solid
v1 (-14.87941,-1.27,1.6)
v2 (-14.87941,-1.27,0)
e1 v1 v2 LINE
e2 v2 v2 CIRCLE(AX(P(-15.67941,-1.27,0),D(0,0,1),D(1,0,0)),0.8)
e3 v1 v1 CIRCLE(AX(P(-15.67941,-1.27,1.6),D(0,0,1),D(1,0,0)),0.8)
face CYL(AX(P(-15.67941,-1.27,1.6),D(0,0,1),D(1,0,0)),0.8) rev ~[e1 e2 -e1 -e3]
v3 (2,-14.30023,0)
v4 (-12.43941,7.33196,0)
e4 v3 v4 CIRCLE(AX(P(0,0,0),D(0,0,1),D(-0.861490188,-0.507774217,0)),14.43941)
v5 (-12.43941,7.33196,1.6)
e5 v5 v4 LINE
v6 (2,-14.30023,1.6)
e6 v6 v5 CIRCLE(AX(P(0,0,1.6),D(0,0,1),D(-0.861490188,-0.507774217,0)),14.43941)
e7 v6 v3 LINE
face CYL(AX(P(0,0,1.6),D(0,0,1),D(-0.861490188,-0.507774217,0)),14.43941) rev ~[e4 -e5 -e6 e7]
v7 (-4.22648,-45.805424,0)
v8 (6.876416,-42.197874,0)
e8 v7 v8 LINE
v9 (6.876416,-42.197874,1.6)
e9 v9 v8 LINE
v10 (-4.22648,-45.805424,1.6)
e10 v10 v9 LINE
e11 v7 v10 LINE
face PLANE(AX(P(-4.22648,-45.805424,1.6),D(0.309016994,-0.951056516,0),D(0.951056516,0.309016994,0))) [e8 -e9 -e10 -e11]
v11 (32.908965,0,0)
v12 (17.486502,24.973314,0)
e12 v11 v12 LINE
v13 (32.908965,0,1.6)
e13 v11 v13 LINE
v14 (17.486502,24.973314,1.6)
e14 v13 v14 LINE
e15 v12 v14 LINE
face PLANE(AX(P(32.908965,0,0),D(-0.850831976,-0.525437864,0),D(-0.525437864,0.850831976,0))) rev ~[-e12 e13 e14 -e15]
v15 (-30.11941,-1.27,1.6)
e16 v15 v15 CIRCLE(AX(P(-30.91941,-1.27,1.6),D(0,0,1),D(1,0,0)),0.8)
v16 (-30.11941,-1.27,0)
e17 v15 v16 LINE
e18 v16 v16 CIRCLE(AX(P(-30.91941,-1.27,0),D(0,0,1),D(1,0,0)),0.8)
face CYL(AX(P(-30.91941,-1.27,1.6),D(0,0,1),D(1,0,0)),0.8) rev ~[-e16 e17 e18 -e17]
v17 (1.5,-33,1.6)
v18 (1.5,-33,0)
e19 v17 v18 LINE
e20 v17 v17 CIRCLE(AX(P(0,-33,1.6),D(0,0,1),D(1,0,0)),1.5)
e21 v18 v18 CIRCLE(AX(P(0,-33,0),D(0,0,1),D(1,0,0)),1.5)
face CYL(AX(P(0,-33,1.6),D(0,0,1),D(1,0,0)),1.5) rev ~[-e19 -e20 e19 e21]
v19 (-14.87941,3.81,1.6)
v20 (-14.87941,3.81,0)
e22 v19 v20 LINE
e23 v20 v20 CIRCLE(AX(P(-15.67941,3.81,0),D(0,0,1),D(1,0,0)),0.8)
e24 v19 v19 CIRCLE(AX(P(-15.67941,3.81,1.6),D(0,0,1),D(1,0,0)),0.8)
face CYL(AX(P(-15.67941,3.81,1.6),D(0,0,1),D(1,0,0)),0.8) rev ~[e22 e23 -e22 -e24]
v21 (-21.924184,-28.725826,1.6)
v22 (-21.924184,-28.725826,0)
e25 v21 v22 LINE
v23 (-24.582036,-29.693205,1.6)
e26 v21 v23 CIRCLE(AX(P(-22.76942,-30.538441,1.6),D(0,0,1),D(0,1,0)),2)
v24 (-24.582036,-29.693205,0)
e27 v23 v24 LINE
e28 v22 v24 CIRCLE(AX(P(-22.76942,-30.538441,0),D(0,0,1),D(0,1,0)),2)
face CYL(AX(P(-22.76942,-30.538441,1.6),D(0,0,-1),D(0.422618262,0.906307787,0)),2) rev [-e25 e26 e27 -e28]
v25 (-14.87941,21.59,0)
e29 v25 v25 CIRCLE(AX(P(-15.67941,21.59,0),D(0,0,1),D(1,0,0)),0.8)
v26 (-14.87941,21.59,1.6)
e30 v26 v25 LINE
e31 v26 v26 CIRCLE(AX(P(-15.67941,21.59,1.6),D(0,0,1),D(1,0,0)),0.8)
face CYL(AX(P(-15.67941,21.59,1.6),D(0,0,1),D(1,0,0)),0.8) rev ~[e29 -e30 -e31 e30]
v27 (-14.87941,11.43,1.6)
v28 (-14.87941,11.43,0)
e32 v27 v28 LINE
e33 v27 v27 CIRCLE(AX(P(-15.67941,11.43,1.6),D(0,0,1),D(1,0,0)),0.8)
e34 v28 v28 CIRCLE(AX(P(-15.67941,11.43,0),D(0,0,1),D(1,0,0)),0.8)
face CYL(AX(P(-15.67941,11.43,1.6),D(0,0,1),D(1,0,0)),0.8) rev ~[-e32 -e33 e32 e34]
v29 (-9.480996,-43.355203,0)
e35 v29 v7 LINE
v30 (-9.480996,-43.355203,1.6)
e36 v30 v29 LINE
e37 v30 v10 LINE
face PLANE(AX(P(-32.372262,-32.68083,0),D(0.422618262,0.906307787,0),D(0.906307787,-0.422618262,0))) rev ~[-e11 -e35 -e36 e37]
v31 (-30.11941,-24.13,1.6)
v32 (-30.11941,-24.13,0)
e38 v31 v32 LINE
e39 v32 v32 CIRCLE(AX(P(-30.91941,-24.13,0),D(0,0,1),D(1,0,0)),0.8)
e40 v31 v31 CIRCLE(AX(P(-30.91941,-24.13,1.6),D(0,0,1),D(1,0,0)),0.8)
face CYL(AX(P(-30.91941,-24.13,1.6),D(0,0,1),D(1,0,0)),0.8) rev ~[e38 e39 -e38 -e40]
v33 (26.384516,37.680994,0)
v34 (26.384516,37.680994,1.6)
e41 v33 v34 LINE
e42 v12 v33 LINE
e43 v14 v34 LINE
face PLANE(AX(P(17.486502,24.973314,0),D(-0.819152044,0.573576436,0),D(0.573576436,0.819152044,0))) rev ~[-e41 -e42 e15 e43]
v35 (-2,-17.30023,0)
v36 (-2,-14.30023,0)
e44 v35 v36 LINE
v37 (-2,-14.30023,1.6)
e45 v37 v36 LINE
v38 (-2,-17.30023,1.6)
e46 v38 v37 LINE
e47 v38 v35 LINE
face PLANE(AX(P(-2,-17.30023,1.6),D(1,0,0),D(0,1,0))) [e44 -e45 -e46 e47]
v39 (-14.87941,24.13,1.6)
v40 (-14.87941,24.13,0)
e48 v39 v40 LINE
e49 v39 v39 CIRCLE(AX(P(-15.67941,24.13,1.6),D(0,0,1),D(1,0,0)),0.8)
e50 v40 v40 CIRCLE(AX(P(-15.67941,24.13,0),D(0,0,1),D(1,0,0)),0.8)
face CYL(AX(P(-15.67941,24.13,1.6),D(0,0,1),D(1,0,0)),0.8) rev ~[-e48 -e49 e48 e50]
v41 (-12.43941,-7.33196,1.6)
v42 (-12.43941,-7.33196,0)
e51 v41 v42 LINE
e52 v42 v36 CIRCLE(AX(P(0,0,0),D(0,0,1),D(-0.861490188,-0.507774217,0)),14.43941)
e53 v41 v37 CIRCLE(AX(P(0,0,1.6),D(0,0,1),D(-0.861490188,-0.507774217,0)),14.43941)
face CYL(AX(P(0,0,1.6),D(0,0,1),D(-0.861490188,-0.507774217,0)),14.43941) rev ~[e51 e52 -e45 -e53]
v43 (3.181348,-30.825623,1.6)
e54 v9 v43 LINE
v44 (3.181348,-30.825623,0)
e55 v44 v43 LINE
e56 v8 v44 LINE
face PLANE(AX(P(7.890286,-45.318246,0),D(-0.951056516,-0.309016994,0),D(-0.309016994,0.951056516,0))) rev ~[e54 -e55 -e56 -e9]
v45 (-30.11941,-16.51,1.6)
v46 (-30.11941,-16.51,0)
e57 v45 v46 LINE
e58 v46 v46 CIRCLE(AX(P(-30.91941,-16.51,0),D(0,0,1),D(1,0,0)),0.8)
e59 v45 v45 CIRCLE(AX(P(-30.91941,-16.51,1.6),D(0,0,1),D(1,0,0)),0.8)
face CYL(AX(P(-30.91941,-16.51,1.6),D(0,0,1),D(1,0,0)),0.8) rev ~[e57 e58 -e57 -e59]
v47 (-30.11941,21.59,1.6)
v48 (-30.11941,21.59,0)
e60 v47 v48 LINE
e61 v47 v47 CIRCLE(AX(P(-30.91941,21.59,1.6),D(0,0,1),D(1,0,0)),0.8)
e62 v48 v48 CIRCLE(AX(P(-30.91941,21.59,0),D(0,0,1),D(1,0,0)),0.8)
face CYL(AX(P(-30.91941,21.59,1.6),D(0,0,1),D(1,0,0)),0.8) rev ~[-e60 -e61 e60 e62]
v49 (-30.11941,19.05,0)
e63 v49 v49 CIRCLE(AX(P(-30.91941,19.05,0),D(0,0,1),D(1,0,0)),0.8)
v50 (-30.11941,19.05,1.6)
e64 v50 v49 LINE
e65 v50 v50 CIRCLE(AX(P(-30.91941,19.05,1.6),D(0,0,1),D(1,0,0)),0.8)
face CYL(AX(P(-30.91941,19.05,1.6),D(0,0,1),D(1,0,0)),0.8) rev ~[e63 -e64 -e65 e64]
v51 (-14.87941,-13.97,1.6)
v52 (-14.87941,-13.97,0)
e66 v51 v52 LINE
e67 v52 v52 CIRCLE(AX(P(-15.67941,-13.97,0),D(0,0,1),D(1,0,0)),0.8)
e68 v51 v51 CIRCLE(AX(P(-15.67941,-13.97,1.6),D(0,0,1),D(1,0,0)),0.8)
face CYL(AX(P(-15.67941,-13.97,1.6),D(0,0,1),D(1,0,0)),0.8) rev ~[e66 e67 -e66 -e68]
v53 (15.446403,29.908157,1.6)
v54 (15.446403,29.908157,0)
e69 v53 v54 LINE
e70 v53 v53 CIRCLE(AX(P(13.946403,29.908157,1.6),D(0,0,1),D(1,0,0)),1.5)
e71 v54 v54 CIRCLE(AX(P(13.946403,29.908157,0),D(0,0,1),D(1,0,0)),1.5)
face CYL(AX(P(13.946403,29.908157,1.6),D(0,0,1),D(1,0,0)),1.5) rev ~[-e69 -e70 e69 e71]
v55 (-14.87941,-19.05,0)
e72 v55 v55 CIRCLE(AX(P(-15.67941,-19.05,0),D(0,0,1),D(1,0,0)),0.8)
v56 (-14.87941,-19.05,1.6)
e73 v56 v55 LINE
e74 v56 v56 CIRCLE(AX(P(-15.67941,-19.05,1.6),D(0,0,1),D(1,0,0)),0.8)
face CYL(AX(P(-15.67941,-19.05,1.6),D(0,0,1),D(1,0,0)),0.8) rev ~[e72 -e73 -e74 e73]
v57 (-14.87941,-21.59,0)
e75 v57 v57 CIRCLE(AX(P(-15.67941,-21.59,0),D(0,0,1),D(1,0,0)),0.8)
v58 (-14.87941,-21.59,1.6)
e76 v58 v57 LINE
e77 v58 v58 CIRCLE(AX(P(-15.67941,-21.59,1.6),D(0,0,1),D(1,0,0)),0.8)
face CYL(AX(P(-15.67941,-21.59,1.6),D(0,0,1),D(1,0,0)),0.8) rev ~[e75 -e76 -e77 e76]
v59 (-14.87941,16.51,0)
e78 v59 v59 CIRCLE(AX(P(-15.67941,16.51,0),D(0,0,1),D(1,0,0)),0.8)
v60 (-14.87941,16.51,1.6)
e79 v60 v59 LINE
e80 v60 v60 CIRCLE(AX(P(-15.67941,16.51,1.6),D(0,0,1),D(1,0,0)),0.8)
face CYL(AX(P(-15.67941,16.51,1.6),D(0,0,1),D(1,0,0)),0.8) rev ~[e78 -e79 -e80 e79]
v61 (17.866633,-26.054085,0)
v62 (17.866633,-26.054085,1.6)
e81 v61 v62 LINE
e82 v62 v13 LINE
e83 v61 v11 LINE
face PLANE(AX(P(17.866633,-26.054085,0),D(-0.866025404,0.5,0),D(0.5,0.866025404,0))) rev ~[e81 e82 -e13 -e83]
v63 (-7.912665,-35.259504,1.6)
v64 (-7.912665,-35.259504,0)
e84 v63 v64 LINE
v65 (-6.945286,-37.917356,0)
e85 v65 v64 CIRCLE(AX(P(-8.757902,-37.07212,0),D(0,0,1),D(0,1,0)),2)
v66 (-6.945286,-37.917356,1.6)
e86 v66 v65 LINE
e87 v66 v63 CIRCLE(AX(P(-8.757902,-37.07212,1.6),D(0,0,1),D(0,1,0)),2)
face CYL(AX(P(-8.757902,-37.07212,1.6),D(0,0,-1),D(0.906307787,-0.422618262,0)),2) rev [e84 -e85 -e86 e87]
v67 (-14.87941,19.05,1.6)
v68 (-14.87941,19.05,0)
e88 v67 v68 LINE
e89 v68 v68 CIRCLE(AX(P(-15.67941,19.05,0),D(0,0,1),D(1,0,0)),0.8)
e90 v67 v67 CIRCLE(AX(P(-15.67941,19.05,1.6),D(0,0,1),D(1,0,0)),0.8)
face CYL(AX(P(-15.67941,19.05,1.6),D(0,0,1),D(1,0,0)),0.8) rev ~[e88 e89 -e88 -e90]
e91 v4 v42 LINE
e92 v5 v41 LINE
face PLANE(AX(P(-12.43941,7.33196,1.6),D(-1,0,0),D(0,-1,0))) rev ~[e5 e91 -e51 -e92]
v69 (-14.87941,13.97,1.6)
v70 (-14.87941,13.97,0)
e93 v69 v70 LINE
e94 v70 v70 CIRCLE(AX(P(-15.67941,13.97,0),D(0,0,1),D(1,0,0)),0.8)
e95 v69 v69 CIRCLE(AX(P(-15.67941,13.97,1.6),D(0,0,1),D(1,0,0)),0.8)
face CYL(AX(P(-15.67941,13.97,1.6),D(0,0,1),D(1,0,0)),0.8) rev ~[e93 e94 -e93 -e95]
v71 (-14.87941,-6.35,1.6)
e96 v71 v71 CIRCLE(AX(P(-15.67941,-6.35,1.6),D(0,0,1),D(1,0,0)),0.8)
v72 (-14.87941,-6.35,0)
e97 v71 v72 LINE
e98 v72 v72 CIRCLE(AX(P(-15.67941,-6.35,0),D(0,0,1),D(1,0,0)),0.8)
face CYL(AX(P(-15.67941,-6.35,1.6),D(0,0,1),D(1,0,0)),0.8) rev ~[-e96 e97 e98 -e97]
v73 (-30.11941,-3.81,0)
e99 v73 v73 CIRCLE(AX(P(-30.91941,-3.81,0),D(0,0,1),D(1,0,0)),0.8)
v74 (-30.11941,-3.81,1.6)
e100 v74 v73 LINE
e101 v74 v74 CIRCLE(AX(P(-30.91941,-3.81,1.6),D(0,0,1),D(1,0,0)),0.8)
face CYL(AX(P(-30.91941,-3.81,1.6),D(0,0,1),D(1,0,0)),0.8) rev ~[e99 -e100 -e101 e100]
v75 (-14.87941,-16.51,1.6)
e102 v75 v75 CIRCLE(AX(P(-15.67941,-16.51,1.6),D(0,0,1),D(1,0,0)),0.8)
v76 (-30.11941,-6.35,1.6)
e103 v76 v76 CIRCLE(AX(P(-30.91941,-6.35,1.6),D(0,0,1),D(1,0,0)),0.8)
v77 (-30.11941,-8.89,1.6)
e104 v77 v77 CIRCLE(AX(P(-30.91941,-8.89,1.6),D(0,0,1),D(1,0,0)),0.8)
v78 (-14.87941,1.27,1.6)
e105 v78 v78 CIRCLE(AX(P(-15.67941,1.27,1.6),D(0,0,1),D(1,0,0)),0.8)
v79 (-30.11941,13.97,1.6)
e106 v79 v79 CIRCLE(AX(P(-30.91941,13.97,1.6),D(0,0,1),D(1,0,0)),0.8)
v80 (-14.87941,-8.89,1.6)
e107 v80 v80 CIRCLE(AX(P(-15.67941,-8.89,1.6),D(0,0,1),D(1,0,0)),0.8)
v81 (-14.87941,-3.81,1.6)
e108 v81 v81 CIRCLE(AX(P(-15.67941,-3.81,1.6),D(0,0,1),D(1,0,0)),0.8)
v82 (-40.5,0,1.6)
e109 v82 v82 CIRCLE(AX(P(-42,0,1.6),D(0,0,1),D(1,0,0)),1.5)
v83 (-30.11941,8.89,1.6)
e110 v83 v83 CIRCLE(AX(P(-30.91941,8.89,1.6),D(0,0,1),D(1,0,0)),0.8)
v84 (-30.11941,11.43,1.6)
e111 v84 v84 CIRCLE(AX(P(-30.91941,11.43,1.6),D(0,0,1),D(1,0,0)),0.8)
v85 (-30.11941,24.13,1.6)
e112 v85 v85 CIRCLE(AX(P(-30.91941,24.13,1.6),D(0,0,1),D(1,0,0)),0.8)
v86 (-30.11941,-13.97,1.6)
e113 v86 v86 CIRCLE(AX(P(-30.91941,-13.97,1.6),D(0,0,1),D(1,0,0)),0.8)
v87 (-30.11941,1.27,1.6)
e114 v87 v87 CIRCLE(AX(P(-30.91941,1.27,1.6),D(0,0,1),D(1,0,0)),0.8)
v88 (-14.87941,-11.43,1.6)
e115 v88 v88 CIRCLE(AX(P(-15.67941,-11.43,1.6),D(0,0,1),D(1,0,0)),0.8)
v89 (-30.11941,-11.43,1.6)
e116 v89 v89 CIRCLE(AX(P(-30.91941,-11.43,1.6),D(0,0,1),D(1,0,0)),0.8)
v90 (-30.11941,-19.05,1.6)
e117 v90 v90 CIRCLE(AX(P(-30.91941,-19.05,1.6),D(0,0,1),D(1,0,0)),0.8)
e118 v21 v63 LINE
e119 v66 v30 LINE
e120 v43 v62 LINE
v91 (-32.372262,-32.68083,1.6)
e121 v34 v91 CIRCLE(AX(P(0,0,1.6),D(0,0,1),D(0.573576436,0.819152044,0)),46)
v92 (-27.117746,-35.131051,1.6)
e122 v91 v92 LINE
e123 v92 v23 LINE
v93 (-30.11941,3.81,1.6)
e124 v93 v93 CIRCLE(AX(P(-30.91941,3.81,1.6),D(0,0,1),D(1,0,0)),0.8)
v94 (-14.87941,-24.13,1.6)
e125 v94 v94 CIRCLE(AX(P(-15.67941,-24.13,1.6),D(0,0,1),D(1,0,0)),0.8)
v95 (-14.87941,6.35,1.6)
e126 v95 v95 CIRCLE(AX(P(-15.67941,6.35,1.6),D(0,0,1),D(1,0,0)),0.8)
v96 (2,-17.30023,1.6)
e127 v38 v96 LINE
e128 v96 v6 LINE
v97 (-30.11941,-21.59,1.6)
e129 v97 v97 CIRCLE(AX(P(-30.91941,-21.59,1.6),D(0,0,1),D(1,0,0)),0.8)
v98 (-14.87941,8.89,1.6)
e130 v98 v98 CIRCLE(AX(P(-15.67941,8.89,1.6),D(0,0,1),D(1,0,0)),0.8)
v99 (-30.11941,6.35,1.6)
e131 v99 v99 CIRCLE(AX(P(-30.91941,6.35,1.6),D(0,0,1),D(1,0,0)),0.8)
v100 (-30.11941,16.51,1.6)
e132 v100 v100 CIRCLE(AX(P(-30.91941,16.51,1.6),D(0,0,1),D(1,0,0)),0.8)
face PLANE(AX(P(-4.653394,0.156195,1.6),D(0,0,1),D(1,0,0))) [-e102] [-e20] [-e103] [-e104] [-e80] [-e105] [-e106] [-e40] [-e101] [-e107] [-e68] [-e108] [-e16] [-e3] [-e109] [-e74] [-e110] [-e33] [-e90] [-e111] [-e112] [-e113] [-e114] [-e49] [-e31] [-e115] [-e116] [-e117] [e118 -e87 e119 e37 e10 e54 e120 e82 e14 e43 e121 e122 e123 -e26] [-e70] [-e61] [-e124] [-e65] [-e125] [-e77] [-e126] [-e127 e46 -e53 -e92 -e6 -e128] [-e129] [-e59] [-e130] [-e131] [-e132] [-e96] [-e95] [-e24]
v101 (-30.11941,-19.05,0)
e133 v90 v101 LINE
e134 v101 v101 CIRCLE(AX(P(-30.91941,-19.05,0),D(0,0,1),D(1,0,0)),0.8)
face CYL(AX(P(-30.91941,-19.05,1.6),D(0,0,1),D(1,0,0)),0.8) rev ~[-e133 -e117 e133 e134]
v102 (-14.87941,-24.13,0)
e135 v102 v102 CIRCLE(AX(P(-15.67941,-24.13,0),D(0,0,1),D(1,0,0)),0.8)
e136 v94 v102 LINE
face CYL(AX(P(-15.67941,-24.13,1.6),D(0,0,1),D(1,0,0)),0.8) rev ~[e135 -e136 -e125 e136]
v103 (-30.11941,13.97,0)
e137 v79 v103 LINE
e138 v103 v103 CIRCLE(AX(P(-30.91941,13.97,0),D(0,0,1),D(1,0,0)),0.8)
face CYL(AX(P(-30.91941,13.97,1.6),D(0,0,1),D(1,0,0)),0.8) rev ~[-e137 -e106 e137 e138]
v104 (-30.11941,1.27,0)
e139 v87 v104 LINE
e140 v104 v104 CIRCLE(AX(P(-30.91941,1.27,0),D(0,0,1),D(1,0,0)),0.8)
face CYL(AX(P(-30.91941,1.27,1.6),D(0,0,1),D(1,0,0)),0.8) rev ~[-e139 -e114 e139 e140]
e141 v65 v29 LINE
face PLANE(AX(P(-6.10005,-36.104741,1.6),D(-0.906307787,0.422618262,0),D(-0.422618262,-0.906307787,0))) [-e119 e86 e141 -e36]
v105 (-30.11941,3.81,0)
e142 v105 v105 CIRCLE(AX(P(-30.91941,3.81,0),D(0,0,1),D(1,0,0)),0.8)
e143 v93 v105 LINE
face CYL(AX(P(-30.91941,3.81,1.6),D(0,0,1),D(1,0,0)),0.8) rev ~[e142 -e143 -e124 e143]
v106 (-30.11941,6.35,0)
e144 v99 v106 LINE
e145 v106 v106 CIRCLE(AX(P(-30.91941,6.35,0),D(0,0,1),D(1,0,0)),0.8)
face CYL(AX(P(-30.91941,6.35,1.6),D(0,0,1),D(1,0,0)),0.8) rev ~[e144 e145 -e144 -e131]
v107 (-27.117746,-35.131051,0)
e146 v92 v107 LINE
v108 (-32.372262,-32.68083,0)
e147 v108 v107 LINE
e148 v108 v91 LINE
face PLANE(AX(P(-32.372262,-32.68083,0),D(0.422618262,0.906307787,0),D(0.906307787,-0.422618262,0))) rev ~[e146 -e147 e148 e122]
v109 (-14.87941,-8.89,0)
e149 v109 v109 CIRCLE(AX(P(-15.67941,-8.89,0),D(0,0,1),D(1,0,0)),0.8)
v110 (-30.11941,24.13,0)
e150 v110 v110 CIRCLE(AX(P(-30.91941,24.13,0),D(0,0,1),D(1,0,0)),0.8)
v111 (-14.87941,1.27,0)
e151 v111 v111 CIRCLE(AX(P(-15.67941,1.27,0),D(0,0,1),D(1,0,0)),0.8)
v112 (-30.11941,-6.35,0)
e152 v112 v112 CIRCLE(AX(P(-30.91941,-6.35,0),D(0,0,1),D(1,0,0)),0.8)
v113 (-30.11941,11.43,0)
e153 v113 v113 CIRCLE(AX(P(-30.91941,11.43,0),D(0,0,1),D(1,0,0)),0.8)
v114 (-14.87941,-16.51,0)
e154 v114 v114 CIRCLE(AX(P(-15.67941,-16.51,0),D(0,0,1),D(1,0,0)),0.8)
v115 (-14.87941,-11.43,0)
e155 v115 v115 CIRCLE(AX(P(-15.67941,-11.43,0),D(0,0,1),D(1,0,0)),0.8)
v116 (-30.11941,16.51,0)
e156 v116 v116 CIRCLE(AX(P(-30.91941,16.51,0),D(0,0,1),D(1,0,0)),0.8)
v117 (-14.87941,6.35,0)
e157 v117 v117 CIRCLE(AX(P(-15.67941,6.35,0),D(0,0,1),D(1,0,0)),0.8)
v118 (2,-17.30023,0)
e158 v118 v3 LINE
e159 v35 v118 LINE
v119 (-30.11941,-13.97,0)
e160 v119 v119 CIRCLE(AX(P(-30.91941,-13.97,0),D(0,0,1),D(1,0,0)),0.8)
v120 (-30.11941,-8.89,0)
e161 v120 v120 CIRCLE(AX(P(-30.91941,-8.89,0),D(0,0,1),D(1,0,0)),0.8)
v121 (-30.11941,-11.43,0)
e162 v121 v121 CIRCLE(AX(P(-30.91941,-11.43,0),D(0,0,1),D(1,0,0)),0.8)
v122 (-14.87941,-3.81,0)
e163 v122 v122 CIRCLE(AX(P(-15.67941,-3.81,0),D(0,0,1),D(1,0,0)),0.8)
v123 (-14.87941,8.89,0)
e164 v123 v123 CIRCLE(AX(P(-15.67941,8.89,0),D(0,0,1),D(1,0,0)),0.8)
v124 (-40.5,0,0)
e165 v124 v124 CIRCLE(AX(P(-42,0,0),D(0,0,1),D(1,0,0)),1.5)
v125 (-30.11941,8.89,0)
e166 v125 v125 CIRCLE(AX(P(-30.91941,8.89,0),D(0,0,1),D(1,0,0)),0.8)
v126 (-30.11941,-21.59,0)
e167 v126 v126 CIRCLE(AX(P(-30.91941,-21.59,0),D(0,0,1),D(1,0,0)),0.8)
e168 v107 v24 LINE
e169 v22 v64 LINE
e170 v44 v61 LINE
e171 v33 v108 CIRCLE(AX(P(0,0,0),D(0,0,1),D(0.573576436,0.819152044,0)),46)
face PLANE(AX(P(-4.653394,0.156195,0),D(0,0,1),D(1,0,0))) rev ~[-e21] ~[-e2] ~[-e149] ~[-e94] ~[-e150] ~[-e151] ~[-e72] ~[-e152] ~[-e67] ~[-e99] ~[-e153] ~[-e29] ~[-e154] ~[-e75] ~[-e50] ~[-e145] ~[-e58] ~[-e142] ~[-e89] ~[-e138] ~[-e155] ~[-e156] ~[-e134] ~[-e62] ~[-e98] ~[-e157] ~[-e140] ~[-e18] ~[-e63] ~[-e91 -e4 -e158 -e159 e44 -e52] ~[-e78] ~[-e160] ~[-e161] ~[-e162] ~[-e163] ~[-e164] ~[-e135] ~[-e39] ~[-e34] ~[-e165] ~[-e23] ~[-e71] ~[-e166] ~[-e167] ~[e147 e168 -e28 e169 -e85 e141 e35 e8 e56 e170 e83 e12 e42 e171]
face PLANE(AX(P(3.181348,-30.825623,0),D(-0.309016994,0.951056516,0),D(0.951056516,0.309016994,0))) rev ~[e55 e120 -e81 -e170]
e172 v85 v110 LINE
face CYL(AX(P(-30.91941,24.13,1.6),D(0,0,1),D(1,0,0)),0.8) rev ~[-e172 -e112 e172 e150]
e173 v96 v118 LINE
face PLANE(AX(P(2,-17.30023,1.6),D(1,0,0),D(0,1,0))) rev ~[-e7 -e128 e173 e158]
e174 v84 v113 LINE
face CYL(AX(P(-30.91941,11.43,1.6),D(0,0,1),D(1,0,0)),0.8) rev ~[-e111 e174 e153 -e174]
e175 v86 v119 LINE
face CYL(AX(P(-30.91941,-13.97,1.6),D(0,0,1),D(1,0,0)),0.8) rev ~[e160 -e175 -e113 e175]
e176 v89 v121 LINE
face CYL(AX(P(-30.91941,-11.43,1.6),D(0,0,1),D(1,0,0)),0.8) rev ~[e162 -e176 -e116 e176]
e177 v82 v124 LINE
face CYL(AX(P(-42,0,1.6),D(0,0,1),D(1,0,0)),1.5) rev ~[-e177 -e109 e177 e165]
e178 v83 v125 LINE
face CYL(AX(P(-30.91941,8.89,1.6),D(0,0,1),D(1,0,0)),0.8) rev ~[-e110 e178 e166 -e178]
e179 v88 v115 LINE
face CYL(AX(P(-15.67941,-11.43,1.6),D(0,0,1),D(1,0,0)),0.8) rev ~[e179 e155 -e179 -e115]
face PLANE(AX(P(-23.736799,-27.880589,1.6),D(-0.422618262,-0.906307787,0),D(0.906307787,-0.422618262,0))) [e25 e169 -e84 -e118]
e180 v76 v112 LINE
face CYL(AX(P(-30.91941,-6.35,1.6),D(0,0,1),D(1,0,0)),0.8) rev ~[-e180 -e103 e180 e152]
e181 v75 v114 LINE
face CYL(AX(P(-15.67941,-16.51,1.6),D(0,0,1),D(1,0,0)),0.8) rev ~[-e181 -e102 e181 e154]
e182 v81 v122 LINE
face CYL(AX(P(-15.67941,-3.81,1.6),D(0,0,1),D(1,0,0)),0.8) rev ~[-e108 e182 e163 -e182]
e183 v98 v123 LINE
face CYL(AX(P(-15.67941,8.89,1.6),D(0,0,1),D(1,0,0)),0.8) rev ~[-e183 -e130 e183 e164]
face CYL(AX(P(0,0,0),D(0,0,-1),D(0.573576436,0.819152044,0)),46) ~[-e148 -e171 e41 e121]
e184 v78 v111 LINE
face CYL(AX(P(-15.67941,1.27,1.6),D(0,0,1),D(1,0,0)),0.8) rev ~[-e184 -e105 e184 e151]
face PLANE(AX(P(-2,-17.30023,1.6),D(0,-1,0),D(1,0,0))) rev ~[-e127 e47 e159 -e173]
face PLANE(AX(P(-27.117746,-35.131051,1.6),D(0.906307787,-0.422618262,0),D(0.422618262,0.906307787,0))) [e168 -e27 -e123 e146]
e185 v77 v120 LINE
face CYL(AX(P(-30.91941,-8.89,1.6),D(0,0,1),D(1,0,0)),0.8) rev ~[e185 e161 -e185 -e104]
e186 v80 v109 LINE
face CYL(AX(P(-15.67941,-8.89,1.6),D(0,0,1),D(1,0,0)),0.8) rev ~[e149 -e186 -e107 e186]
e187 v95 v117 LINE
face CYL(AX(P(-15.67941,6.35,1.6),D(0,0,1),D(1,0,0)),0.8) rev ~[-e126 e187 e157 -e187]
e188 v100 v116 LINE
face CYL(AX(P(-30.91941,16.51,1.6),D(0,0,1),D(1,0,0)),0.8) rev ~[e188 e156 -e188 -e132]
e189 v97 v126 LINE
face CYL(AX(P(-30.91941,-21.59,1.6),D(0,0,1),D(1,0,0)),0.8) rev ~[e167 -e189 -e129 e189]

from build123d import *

# Parameters (mm, degrees)
BOSS_EXTRUDE1_DEPTH = 1.6
CUT_EXTRUDE1_DEPTH  = 1.6
SKETCH3_W           = 4
SKETCH3_H           = 3
CUT_EXTRUDE2_DEPTH  = 1.6
SKETCH4_R           = 1.5
CUT_EXTRUDE3_DEPTH  = 5
SKETCH5_R           = 0.8
CUT_EXTRUDE4_DEPTH  = 10
CUT_EXTRUDE5_DEPTH  = 10
CUT_EXTRUDE6_DEPTH  = 5
FILLET1_R           = 2


with BuildPart() as part:
    # Sketch1 → Boss-Extrude1 (new body)
    with BuildSketch(Plane.XY):
        with BuildLine():
            Line((17.486502451, 24.97331362), (26.384516072, 37.680994037))
            ThreePointArc((26.384516072, 37.680994037), (-35.308070708, 29.48457466), (-32.372261705, -32.680830346))
            Line((-32.372261705, -32.680830346), (-4.226479762, -45.805424011))
            ThreePointArc((-4.226479762, -45.805424011), (1.848027324, -45.962863216), (7.890286138, -45.318245604))
            Line((7.890286138, -45.318245604), (3.181347574, -30.825622907))
            Line((3.181347574, -30.825622907), (17.866632614, -26.054084553))
            Line((17.866632614, -26.054084553), (32.908965344, 0))
            Line((32.908965344, 0), (17.486502451, 24.97331362))
        make_face()
    extrude(amount=BOSS_EXTRUDE1_DEPTH)

    # Sketch2 → Cut-Extrude1 (cut)
    with BuildSketch(Plane.XY.offset(1.6)):
        with BuildLine():
            Line((-12.439410298, 7.331960256), (-12.439410298, -7.331960256))
            ThreePointArc((-12.439410298, -7.331960256), (14.439410298, 0), (-12.439410298, 7.331960256))
        make_face()
    extrude(amount=-CUT_EXTRUDE1_DEPTH, mode=Mode.SUBTRACT)

    # Sketch3 → Cut-Extrude2 (cut)
    with BuildSketch(Plane.XY.offset(1.6)):
        with Locations((0, -15.80022971)):
            Rectangle(SKETCH3_W, SKETCH3_H)
    extrude(amount=-CUT_EXTRUDE2_DEPTH, mode=Mode.SUBTRACT)

    # Sketch4 → Cut-Extrude3 (cut)
    with BuildSketch(Plane.XY.offset(1.6)):
        with Locations((-42, 0)):
            Circle(SKETCH4_R)
        with Locations((13.946402637, 29.908156972)):
            Circle(SKETCH4_R)
        with Locations((0, -33)):
            Circle(SKETCH4_R)
    extrude(amount=-CUT_EXTRUDE3_DEPTH, mode=Mode.SUBTRACT)

    # Sketch5 → Cut-Extrude4 (cut)
    with BuildSketch(Plane.XY.offset(1.6)):
        with Locations((-30.919410298, -24.13)):
            Circle(SKETCH5_R)
        with Locations((-15.679410309, -24.13)):
            Circle(SKETCH5_R)
        with Locations((-30.919410298, -21.59)):
            Circle(SKETCH5_R)
        with Locations((-15.679410309, -21.59)):
            Circle(SKETCH5_R)
        with Locations((-30.919410298, -19.05)):
            Circle(SKETCH5_R)
        with Locations((-15.679410309, -19.05)):
            Circle(SKETCH5_R)
        with Locations((-30.919410298, -16.51)):
            Circle(SKETCH5_R)
        with Locations((-15.679410309, -16.51)):
            Circle(SKETCH5_R)
        with Locations((-30.919410298, -13.97)):
            Circle(SKETCH5_R)
        with Locations((-15.679410309, -13.97)):
            Circle(SKETCH5_R)
        with Locations((-30.919410298, -11.43)):
            Circle(SKETCH5_R)
        with Locations((-15.679410309, -11.43)):
            Circle(SKETCH5_R)
        with Locations((-30.919410298, -8.89)):
            Circle(SKETCH5_R)
        with Locations((-15.679410309, -8.89)):
            Circle(SKETCH5_R)
        with Locations((-30.919410298, -6.35)):
            Circle(SKETCH5_R)
        with Locations((-15.679410309, -6.35)):
            Circle(SKETCH5_R)
        with Locations((-30.919410298, -3.81)):
            Circle(SKETCH5_R)
        with Locations((-15.679410309, -3.81)):
            Circle(SKETCH5_R)
        with Locations((-30.919410298, -1.27)):
            Circle(SKETCH5_R)
        with Locations((-15.679410309, -1.27)):
            Circle(SKETCH5_R)
        with Locations((-30.919410298, 1.27)):
            Circle(SKETCH5_R)
        with Locations((-15.679410309, 1.27)):
            Circle(SKETCH5_R)
        with Locations((-30.919410298, 3.81)):
            Circle(SKETCH5_R)
        with Locations((-15.679410309, 3.81)):
            Circle(SKETCH5_R)
        with Locations((-30.919410298, 6.35)):
            Circle(SKETCH5_R)
        with Locations((-15.679410309, 6.35)):
            Circle(SKETCH5_R)
        with Locations((-30.919410298, 8.89)):
            Circle(SKETCH5_R)
        with Locations((-15.679410309, 8.89)):
            Circle(SKETCH5_R)
        with Locations((-30.919410298, 11.43)):
            Circle(SKETCH5_R)
        with Locations((-15.679410309, 11.43)):
            Circle(SKETCH5_R)
        with Locations((-30.919410298, 13.97)):
            Circle(SKETCH5_R)
        with Locations((-15.679410309, 13.97)):
            Circle(SKETCH5_R)
        with Locations((-30.919410298, 16.51)):
            Circle(SKETCH5_R)
        with Locations((-15.679410309, 16.51)):
            Circle(SKETCH5_R)
        with Locations((-30.919410298, 19.05)):
            Circle(SKETCH5_R)
        with Locations((-15.679410309, 19.05)):
            Circle(SKETCH5_R)
        with Locations((-30.919410298, 21.59)):
            Circle(SKETCH5_R)
        with Locations((-15.679410309, 21.59)):
            Circle(SKETCH5_R)
        with Locations((-30.919410298, 24.13)):
            Circle(SKETCH5_R)
        with Locations((-15.679410309, 24.13)):
            Circle(SKETCH5_R)
    extrude(amount=-CUT_EXTRUDE4_DEPTH, mode=Mode.SUBTRACT)

    # Sketch6 → Cut-Extrude5 (cut)
    with BuildSketch(Plane.XY.offset(1.6)):
        Polygon((-4.226479762, -45.805424011), (6.876416094, -42.197874462), (21.084325359, -57.487819449), (-10.029151778, -66.166531288), align=None)
    extrude(amount=-CUT_EXTRUDE5_DEPTH, mode=Mode.SUBTRACT)

    # Sketch7 → Cut-Extrude6 (cut)
    with BuildSketch(Plane.XY.offset(1.6)):
        Polygon((-27.117745501, -35.131051492), (-23.736799407, -27.880589196), (-6.100049872, -36.104740569), (-9.480995966, -43.355202865), align=None)
    extrude(amount=-CUT_EXTRUDE6_DEPTH, mode=Mode.SUBTRACT)

    # Fillet1
    fillet1_edges = [part.edges().sort_by_distance(p)[0] for p in [
        (-23.736799407, -27.880589196, 0.8),
        (-6.100049872, -36.104740569, 0.8),
    ]]
    fillet(fillet1_edges, radius=FILLET1_R)


solid = part.part
